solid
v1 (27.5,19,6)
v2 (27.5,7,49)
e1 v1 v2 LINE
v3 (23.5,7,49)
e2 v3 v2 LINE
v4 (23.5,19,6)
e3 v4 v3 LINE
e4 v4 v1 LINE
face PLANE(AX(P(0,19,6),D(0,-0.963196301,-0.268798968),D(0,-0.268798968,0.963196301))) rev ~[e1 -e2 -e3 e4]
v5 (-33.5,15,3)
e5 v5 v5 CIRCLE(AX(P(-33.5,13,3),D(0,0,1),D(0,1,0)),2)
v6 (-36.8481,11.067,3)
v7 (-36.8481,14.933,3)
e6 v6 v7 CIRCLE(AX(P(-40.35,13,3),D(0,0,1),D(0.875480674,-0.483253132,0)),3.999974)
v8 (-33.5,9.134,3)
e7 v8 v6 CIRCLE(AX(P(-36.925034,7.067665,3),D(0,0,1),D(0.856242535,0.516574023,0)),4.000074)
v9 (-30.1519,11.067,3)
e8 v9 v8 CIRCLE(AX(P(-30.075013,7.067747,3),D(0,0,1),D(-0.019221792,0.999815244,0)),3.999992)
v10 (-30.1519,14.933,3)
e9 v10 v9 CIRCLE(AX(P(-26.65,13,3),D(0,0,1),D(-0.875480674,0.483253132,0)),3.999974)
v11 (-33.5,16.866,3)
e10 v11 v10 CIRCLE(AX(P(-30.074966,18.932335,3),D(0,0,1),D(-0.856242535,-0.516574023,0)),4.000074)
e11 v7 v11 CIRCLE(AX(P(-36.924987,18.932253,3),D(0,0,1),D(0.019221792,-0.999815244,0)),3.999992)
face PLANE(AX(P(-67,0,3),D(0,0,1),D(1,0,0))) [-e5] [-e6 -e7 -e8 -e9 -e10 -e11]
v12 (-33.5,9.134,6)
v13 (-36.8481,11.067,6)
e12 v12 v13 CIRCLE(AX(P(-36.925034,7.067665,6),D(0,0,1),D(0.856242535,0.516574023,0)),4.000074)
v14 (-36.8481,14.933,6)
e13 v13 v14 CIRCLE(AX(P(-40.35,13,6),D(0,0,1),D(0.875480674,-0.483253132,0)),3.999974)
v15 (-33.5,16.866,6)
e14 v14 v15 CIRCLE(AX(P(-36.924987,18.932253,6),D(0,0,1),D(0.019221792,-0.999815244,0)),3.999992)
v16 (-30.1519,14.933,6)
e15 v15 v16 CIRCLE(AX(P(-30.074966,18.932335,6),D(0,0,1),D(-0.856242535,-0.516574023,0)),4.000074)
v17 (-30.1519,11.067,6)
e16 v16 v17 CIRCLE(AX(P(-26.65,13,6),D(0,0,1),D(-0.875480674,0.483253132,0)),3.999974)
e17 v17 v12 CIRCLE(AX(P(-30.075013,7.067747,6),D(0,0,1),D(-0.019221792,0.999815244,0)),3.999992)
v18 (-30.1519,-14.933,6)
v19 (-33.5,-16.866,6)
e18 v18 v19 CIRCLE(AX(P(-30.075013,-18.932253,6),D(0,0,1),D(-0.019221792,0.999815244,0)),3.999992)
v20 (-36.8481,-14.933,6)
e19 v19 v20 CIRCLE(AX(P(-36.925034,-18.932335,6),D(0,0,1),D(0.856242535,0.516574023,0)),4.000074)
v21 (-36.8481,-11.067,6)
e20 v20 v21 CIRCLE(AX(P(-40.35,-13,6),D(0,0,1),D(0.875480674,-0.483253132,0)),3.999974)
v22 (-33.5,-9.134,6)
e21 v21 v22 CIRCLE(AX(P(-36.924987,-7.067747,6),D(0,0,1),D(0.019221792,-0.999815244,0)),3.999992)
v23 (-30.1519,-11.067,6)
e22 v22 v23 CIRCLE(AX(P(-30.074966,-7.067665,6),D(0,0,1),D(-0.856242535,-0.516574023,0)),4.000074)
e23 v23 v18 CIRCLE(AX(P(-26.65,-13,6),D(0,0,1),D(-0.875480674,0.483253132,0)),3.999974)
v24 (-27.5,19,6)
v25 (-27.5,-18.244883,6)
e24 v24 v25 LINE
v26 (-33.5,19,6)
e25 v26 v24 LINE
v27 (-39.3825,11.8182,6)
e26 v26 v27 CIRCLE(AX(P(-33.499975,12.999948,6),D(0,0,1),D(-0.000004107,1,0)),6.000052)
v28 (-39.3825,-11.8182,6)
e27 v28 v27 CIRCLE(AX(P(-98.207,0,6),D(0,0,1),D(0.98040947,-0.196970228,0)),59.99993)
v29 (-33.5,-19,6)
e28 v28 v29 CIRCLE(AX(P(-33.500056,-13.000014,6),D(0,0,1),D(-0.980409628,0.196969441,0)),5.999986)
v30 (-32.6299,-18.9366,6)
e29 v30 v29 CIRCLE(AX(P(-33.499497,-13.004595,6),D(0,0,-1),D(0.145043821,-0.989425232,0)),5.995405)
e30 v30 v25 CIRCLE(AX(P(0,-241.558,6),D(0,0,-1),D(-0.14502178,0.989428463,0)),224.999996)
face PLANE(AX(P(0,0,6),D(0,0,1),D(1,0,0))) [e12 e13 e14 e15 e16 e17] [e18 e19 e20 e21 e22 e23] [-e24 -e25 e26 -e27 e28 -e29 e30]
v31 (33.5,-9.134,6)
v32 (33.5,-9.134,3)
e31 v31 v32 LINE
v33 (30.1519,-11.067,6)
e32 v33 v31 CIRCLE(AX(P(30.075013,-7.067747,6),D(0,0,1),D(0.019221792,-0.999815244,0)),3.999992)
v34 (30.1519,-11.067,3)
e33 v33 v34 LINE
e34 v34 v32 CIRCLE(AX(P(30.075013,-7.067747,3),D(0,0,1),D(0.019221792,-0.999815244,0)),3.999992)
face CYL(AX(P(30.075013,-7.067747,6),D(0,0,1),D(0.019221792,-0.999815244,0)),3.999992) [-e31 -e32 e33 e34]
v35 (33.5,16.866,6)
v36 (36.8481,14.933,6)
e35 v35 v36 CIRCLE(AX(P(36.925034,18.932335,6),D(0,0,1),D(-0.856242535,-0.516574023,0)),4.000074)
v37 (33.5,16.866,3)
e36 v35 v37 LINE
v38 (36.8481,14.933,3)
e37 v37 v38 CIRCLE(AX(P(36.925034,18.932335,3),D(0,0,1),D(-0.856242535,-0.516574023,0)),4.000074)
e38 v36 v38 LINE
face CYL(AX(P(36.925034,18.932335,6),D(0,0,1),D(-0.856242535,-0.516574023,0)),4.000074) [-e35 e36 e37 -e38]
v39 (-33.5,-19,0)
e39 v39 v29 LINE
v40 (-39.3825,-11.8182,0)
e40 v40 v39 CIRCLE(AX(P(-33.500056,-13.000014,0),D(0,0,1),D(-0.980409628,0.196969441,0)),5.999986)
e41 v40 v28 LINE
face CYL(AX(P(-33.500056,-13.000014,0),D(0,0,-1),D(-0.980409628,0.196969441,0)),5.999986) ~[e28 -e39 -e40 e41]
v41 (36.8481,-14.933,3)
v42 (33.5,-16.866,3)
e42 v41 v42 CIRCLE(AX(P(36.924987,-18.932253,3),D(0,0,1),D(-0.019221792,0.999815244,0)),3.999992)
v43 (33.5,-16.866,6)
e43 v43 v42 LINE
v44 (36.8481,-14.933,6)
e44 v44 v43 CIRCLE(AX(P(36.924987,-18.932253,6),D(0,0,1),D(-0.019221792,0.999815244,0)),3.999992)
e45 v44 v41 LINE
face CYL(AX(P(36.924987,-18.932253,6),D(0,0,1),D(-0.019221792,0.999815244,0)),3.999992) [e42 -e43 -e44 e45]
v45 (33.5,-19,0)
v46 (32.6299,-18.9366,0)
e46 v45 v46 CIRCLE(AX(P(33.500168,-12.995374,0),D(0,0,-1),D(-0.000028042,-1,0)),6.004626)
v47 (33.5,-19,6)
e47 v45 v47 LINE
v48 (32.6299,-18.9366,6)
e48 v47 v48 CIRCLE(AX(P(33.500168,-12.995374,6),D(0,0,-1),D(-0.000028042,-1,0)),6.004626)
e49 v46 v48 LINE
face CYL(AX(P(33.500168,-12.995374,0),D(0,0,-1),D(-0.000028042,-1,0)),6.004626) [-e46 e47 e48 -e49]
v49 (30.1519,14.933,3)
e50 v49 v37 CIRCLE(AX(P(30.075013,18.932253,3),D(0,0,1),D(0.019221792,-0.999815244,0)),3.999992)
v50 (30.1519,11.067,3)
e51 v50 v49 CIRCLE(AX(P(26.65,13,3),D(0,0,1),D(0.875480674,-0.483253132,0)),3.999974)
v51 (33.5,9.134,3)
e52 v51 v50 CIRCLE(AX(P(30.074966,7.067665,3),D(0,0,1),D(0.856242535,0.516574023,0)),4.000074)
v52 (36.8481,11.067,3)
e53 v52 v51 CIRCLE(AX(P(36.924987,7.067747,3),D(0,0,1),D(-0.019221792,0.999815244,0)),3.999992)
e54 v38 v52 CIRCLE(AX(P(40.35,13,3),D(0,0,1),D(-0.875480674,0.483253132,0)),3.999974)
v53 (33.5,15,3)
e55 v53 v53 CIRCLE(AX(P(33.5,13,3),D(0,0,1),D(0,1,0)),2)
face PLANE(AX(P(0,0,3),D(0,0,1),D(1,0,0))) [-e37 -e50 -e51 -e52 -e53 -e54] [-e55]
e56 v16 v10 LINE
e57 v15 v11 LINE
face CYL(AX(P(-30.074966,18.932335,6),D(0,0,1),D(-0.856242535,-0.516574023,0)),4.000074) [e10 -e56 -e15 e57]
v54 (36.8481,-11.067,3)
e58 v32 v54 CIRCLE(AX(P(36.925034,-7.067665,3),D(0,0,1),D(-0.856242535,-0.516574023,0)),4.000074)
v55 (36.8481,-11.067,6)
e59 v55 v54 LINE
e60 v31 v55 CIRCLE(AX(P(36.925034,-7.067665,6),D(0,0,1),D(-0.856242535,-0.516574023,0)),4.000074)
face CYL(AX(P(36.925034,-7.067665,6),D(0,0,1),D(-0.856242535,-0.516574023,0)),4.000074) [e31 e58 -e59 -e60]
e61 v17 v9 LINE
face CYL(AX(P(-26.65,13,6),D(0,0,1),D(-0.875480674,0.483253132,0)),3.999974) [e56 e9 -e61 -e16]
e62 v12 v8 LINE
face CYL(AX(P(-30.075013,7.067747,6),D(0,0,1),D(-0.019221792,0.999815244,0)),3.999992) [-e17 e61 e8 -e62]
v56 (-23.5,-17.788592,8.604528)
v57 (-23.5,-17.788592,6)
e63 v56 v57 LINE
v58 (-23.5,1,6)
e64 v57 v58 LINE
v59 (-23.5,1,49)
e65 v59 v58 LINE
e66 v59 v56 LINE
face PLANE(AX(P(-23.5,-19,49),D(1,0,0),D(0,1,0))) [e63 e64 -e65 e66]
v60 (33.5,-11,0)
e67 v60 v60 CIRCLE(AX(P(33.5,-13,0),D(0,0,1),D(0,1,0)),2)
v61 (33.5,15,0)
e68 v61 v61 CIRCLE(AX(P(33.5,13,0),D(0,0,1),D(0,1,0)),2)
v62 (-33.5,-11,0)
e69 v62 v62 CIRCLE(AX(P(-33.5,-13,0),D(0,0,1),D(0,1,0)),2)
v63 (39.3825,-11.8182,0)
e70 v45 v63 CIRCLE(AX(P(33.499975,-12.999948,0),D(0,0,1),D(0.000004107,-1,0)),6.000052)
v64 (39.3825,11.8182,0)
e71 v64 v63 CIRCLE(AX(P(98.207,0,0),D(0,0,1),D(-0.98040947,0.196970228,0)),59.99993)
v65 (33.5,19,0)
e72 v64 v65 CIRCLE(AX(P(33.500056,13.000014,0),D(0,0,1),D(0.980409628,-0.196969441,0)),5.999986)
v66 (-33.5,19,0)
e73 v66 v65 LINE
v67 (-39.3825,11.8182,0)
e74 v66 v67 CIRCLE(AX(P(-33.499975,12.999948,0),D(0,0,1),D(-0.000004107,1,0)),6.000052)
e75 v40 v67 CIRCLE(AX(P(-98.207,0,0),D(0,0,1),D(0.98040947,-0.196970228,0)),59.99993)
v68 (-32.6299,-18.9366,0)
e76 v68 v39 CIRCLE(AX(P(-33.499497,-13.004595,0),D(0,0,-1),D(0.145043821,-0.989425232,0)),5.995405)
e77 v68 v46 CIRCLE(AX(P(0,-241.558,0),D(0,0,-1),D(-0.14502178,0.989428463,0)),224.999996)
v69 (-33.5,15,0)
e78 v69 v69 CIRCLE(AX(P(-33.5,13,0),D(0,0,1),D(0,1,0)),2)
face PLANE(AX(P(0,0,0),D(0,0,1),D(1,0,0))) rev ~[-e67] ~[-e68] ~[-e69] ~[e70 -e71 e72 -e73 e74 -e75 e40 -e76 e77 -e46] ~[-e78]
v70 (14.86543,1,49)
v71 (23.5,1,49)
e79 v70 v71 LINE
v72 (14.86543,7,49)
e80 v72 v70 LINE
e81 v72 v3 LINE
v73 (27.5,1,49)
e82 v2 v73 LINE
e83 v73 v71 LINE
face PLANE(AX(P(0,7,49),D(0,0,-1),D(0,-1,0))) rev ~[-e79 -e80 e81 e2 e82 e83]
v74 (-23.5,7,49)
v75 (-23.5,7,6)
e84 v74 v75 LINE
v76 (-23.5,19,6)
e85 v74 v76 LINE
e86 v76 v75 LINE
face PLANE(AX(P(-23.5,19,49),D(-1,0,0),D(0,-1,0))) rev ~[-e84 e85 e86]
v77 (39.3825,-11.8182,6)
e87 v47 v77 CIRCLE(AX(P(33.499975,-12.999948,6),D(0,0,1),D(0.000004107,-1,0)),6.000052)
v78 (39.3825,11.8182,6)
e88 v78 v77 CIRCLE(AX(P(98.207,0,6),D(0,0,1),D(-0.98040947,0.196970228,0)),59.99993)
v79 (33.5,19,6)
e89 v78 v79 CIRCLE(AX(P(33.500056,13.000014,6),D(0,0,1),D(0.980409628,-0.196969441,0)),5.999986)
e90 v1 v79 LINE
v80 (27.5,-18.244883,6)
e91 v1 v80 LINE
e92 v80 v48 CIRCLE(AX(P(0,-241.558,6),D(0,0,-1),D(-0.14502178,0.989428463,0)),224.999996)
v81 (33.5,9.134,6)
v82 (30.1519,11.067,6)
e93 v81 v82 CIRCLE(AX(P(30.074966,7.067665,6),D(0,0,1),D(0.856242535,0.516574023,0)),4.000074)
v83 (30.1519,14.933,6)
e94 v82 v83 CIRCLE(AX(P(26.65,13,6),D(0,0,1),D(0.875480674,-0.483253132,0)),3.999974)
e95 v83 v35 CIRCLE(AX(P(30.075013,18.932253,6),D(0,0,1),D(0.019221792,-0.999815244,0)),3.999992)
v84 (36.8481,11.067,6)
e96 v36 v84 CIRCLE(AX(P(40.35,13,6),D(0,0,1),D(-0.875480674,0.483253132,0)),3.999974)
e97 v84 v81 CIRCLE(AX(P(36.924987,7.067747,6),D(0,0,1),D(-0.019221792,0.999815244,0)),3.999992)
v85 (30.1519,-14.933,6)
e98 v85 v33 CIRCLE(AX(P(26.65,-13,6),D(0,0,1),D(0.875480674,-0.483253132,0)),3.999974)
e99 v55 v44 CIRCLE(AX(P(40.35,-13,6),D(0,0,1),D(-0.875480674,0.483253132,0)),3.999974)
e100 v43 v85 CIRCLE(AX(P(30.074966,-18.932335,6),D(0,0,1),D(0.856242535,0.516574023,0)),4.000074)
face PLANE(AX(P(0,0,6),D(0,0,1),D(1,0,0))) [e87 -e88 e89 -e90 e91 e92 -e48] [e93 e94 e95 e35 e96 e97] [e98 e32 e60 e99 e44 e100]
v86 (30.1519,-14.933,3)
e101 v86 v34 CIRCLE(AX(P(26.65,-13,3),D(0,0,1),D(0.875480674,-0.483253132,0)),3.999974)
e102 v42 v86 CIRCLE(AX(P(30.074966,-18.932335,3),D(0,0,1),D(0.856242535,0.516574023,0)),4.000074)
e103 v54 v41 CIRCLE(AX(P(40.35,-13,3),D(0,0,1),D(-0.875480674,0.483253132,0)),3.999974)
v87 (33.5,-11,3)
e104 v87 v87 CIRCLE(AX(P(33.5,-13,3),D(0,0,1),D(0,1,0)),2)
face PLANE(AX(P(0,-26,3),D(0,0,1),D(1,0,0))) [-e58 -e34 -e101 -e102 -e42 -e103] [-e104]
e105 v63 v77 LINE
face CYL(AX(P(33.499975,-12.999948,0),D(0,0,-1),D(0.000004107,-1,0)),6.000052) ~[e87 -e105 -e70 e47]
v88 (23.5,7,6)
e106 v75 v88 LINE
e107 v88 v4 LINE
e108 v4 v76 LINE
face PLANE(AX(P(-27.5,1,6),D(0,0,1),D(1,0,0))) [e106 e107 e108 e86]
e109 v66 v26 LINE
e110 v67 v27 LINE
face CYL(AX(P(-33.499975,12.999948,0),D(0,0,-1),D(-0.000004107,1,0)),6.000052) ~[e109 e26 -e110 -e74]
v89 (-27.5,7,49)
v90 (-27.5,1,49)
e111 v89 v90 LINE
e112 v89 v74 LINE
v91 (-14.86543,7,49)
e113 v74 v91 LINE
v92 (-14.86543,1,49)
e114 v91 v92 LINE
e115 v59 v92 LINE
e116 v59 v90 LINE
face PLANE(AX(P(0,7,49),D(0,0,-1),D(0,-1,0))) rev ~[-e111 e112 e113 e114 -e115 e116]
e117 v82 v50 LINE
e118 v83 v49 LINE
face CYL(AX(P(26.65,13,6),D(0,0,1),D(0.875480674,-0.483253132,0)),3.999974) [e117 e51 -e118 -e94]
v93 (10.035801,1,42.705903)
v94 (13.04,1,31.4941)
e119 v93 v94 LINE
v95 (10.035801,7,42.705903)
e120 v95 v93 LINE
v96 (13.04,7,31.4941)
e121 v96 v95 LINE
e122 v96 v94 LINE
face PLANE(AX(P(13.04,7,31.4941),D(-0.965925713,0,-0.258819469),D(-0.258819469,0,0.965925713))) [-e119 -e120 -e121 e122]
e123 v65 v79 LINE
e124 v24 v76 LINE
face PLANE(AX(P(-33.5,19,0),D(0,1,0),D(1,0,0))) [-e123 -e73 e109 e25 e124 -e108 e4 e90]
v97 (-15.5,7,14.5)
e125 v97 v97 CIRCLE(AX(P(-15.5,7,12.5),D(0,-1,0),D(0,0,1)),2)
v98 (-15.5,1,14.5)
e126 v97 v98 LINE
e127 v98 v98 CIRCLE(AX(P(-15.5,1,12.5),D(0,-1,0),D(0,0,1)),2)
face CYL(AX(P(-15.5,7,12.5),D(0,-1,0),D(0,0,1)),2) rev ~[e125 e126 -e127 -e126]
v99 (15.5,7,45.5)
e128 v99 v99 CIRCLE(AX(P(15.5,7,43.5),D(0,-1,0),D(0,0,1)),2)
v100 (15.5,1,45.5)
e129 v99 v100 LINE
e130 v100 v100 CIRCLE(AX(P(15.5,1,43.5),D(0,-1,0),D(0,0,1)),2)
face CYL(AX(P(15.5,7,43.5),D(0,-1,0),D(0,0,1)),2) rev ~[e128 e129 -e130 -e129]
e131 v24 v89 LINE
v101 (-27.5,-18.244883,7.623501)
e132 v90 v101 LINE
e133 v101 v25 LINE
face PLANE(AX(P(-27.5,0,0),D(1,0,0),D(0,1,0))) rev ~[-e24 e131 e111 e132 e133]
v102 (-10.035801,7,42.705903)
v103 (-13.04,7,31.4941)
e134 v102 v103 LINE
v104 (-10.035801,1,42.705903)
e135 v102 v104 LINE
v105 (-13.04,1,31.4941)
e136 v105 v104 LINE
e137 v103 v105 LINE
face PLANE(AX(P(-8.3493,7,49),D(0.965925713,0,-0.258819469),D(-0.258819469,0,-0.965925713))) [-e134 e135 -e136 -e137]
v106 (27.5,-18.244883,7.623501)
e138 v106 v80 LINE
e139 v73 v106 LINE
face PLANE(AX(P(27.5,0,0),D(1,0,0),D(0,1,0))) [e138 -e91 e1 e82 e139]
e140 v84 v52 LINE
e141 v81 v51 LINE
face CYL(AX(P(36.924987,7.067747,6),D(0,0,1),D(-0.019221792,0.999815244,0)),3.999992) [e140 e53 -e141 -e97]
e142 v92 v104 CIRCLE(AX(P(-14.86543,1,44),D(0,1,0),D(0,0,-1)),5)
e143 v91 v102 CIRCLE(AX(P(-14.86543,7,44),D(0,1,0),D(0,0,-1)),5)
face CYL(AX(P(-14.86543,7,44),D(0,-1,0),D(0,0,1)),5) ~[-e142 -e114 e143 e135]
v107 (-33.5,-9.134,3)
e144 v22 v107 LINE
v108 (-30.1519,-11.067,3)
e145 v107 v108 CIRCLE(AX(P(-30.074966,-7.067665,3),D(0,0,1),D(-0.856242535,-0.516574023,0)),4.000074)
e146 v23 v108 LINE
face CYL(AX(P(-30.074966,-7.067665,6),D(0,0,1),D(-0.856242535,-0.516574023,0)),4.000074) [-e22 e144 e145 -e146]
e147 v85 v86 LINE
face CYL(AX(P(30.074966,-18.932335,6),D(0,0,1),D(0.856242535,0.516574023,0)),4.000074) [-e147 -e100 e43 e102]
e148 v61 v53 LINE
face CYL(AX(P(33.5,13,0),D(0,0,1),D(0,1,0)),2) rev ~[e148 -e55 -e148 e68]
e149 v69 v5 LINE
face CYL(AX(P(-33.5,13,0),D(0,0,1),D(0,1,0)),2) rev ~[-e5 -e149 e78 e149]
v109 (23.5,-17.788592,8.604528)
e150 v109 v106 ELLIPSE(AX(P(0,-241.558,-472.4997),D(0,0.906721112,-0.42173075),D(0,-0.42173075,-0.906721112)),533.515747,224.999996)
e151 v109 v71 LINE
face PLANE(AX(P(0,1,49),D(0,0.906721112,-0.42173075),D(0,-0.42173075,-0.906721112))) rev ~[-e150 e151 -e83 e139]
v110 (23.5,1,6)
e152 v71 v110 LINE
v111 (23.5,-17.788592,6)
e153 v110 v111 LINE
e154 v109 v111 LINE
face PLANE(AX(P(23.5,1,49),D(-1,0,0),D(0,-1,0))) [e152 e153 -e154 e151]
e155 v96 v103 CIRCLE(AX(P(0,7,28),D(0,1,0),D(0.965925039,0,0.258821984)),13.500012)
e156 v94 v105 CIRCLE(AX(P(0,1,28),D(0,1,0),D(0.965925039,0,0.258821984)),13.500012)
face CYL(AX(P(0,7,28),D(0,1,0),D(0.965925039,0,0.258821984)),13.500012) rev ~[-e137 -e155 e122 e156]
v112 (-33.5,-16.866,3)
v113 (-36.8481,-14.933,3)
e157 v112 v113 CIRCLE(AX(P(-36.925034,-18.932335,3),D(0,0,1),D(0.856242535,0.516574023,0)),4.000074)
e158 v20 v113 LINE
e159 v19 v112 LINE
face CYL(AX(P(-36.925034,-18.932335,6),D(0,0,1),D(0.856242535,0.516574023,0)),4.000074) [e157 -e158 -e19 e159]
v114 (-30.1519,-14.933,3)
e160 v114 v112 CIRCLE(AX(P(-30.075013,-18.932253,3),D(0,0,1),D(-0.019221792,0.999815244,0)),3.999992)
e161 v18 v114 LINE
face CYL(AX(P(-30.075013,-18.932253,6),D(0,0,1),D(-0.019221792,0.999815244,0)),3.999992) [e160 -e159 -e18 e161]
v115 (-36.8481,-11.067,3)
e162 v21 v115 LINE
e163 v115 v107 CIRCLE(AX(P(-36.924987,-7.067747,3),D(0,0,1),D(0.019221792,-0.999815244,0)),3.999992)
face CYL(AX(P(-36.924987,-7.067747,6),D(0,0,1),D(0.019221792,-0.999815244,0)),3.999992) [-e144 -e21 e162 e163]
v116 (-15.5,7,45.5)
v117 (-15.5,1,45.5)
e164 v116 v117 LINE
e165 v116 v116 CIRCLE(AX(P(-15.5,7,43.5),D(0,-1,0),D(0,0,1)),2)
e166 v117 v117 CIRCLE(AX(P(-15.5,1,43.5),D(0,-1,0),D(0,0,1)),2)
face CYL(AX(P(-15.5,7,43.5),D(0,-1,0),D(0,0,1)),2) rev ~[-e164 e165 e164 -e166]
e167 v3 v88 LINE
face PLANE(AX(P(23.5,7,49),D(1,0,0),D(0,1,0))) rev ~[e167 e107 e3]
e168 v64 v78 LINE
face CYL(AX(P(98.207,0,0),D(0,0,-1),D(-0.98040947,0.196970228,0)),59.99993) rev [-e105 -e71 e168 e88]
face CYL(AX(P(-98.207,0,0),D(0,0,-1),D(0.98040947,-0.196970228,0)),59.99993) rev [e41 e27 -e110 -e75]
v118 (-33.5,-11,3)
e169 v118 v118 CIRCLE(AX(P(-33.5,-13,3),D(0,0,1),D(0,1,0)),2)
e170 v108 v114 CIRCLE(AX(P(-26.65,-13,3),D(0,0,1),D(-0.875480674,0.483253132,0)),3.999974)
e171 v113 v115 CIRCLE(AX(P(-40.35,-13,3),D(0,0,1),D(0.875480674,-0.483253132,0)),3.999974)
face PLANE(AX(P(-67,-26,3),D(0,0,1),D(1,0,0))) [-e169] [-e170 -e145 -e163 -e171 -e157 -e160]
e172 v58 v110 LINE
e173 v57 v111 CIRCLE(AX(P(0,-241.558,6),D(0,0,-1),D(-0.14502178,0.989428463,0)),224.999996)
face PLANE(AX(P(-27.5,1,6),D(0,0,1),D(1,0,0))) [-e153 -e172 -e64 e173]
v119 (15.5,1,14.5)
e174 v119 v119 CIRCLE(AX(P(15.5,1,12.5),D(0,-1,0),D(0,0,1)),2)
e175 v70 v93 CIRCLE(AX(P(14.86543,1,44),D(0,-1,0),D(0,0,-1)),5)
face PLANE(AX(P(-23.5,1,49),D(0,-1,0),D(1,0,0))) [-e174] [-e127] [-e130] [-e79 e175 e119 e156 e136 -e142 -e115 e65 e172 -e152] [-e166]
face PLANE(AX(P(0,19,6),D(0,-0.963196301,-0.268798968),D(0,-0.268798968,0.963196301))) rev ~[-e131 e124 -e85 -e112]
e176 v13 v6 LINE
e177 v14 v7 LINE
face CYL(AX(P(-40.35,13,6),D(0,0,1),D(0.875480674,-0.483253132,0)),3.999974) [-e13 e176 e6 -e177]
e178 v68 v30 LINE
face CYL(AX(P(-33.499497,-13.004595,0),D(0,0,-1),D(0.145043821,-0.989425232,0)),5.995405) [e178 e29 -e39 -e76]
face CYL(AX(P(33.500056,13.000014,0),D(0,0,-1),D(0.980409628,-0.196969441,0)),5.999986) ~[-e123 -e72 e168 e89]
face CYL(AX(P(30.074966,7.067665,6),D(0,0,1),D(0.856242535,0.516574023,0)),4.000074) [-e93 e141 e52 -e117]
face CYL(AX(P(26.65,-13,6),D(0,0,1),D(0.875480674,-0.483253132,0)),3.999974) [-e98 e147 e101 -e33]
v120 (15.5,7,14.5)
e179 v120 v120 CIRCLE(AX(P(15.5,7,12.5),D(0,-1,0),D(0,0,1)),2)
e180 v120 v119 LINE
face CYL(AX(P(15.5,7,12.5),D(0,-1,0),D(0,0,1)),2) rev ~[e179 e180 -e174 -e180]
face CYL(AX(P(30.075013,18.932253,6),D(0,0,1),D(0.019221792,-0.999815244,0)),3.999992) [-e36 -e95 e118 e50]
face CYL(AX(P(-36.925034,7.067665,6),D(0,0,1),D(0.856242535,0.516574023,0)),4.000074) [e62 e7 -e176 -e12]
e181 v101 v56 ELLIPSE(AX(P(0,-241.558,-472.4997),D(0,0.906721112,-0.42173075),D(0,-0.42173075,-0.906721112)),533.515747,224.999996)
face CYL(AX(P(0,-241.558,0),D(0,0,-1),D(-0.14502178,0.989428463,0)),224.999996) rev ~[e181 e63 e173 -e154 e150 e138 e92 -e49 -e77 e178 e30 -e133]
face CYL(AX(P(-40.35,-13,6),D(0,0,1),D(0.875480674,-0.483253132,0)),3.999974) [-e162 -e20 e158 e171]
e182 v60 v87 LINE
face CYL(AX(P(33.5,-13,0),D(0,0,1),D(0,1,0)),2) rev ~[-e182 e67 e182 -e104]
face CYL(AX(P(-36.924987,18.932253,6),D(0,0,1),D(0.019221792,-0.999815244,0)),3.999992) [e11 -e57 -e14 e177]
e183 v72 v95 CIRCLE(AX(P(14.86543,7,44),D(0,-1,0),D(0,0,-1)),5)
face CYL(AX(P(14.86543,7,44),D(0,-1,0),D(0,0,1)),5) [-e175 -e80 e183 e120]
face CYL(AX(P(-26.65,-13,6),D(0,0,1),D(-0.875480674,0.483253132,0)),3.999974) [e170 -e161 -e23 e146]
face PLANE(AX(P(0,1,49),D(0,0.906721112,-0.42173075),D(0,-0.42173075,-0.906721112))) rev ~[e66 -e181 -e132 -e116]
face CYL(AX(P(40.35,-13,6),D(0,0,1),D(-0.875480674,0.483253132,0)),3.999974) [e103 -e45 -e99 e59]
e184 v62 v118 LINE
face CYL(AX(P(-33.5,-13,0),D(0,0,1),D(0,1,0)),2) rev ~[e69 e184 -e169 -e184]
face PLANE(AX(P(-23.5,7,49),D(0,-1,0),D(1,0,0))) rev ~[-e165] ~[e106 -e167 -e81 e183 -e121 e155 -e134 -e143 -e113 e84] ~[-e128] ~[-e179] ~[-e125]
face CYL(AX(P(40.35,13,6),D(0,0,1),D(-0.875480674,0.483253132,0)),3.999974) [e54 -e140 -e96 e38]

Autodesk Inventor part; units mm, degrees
ref_plane "YZ Plane" through (0, 0, 0) normal (1, 0, 0) x (0, 1, 0)
ref_plane "XZ Plane" through (0, 0, 0) normal (0, 1, 0) x (-1, 0, 0)
ref_plane "XY Plane" through (0, 0, 0) normal (0, 0, 1) x (1, 0, 0)
sketch "Sketch1" plane through (0, 0, 0) normal (0, 0, 1) x (1, 0, 0)
  line L0 (-33.5, -13) -> (33.5, -13) construction
  line L1 (33.5, -13) -> (33.5, 13) construction
  line L2 (33.5, 13) -> (-33.5, 13) construction
  line L3 (-33.5, 13) -> (-33.5, -13) construction
  line L4 (-33.5, -13) -> (33.5, 13) construction
  line L5 (33.5, -13) -> (-33.5, 13) construction
  arc A0 (-33.5, 19) -> (-39.3825, 11.8182) centre (-33.5, 13) ccw
  arc A1 (-39.3825, -11.8182) -> (-33.5, -19) centre (-33.5, -13) ccw
  arc A2 (33.5, -19) -> (39.3825, -11.8182) centre (33.5, -13) ccw
  arc A3 (39.3825, 11.8182) -> (33.5, 19) centre (33.5, 13) ccw
  arc A4 (-39.3825, -11.8182) -> (-39.3825, 11.8182) centre (-98.207, 0) ccw
  arc A5 (39.3825, 11.8182) -> (39.3825, -11.8182) centre (98.207, 0) ccw
  line L6 (-33.5, 19) -> (33.5, 19)
  line L7 (-33.5, -19) -> (33.5, -19)
  point P0 (0, 0)
  dimension "d0" = 67
  dimension "d1" = 26
  dimension "d2" = 6
  dimension "d3" = 60
extrude "Extrusion1" add sketch "Sketch1" along normal blind 6
sketch "Sketch2" plane through (0, 0, 0) normal (1, 0, 0) x (0, 1, 0)
  line L0 (19, 6) -> (11.8182, 6) construction
  line L1 (19, 6) -> (7, 49)
  line L2 (7, 49) -> (1, 49)
  line L3 (1, 49) -> (-19, 6)
  line L4 (19, 6) -> (11.8182, 6) construction
  line L5 (11.8182, 6) -> (-11.8182, 6) construction
  line L6 (-11.8182, 6) -> (-19, 6) construction
  line L7 (-19, 6) -> (-11.8182, 6) construction
  line L8 (-11.8182, 6) -> (11.8182, 6) construction
  line L9 (11.8182, 6) -> (19, 6) construction
  line L10 (19, 6) -> (-19, 6)
  point P0 (0, 0)
  dimension "d7" = 12
  dimension "d8" = 43
  dimension "d9" = 6
extrude "Extrusion2" add sketch "Sketch2" along normal mid plane 55
sketch "Sketch3" plane through (-27.5, 1, 49) normal (0, 0, 1) x (1, 0, 0)
  line L0 (0, 0) -> (55, 0) projected
  line L1 (55, 6) -> (55, 0) projected
  line L2 (0, 6) -> (55, 6) projected
  line L3 (0, 0) -> (0, 6) projected
  line L4 (0, 6) -> (55, 6) projected
  line L5 (61, 18) -> (-6, 18) projected
  line L6 (4, 6) -> (51, 6)
  line L7 (51, 6) -> (51, 18)
  line L8 (51, 18) -> (4, 18)
  line L9 (4, 18) -> (4, 6)
  line L10 (0, 0) -> (55, 0) projected
  line L11 (-6, -20) -> (61, -20) projected
  line L12 (4, 0) -> (51, 0)
  line L13 (51, 0) -> (51, -20)
  line L14 (51, -20) -> (4, -20)
  line L15 (4, -20) -> (4, 0)
  point P0 (27.5, -1)
  dimension "d12" = 4
  dimension "d13" = 4
extrude "Extrusion3" cut sketch "Sketch3" against normal up to surface (43 mm away) contours L0 L13 L11 L15 | L9 L5 L7 L2
sketch "Sketch4" plane through (-23.5, 7, 49) normal (0, 1, 0) x (1, 0, 0)
  arc A0 (36.54, 17.5059) -> (10.46, 17.5059) centre (23.5, 21) ccw
  line L0 (47, 43) -> (0, 43) projected
  line L1 (57, 49) -> (-10, 49) projected
  line L2 (36.54, 17.5059) -> (31.8493, 0)
  line L3 (31.8493, 0) -> (15.1507, 0)
  line L4 (15.1507, 0) -> (10.46, 17.5059)
  line L5 (0, 0) -> (47, 0) projected
  arc A1 (10.46, 17.5059) -> (36.54, 17.5059) centre (23.5, 21) ccw construction
  point P0 (23.5, 49)
  point P1 (23.5, 49)
  point P2 (23.5, 0)
  point P3 (23.5, 49)
  dimension "d16" = 27
  dimension "d17" = 22
  dimension "d18" = 30
extrude "Extrusion4" cut sketch "Sketch4" against normal blind 55
fillet "Fillet1" radius 5 2 edges at (8.3493, 4, 49) (-8.3493, 4, 49)
sketch "Sketch5" plane through (-23.5, 7, 6) normal (0, 1, 0) x (1, 0, 0)
  arc A0 (36.54, -25.4941) -> (10.46, -25.4941) centre (23.5, -22) ccw projected
  line L0 (8, -6.5) -> (39, -6.5)
  line L1 (39, -6.5) -> (39, -37.5)
  line L2 (39, -37.5) -> (8, -37.5)
  line L3 (8, -37.5) -> (8, -6.5)
  line L4 (8, -6.5) -> (39, -37.5) construction
  line L5 (39, -6.5) -> (8, -37.5) construction
  point P0 (23.5, 6)
  dimension "d22" = 31
  dimension "d23" = 31
hole "Hole1" at (-15.5, 7, 12.5) at (15.5, 7, 12.5) at (15.5, 7, 43.5) at (-15.5, 7, 43.5) direction (0, -1, 0) diameter 4 end through all
sketch "Sketch6" plane through (0, 0, 0) normal (0, 0, -1) x (-1, 0, 0)
  arc A0 (-33.5, -19) -> (-32.6299, -18.9366) centre (-33.5, -13) ccw
  arc A1 (32.6299, -18.9366) -> (-32.6299, -18.9366) centre (0, -241.558) ccw
  arc A2 (32.6299, -18.9366) -> (33.5, -19) centre (33.5, -13) ccw
  line L0 (-33.5, -19) -> (33.5, -19)
  arc A3 (33.5, -19) -> (39.3825, -11.8182) centre (33.5, -13) ccw projected
  arc A4 (-39.3825, -11.8182) -> (-33.5, -19) centre (-33.5, -13) ccw projected
  point P0 (0, 0)
  dimension "d31" = 225
extrude "Extrusion5" cut sketch "Sketch6" against normal blind 55
sketch "Sketch7" plane through (0, 0, 0) normal (0, 0, -1) x (-1, 0, 0)
  line L0 (-33.5, -13) -> (33.5, -13) construction
  line L1 (33.5, -13) -> (33.5, 13) construction
  line L2 (33.5, 13) -> (-33.5, 13) construction
  line L3 (-33.5, 13) -> (-33.5, -13) construction
  line L4 (-33.5, -13) -> (33.5, 13) construction
  line L5 (33.5, -13) -> (-33.5, 13) construction
  arc A0 (-39.3825, -11.8182) -> (-32.6299, -18.9366) centre (-33.5, -13) ccw construction
  arc A1 (32.6299, -18.9366) -> (-32.6299, -18.9366) centre (0, -241.558) ccw construction
  arc A2 (32.6299, -18.9366) -> (39.3825, -11.8182) centre (33.5, -13) ccw construction
  arc A3 (39.3825, 11.8182) -> (39.3825, -11.8182) centre (98.207, 0) ccw construction
  arc A4 (39.3825, 11.8182) -> (33.5, 19) centre (33.5, 13) ccw construction
  line L6 (-33.5, 19) -> (33.5, 19) construction
  arc A5 (-33.5, 19) -> (-39.3825, 11.8182) centre (-33.5, 13) ccw construction
  arc A6 (-39.3825, -11.8182) -> (-39.3825, 11.8182) centre (-98.207, 0) ccw construction
  point P0 (0, 0)
  point P1 (0, 0)
  dimension "d34" = 67
  dimension "d35" = 26
hole "Hole2" at (33.5, 13, 0) at (33.5, -13, 0) at (-33.5, -13, 0) at (-33.5, 13, 0) direction (0, 0, 1) diameter 4 depth 14.2 tip angle 118
sketch "Sketch8" plane through (0, 0, 6) normal (0, 0, 1) x (1, 0, 0)
  circle A0 centre (-33.5, -13) radius 2 projected
  circle A1 centre (-33.5, 13) radius 2 projected
  arc A2 (-39.3825, -11.8182) -> (-32.6299, -18.9366) centre (-33.5, -13) ccw projected
  arc A3 (-27.5, -18.2449) -> (-32.6299, -18.9366) centre (0, -241.558) ccw projected
  line L0 (-27.5, -18.2449) -> (-27.5, 19) projected
  line L1 (-27.5, 19) -> (-33.5, 19) projected
  arc A4 (-33.5, 19) -> (-39.3825, 11.8182) centre (-33.5, 13) ccw projected
  arc A5 (-39.3825, -11.8182) -> (-39.3825, 11.8182) centre (-98.207, 0) ccw projected
  circle A6 centre (33.5, 13) radius 2 projected
  circle A7 centre (33.5, -13) radius 2 projected
  arc A8 (32.6299, -18.9366) -> (39.3825, -11.8182) centre (33.5, -13) ccw projected
  arc A9 (39.3825, 11.8182) -> (39.3825, -11.8182) centre (98.207, 0) ccw projected
  arc A10 (39.3825, 11.8182) -> (33.5, 19) centre (33.5, 13) ccw projected
  line L2 (33.5, 19) -> (27.5, 19) projected
  line L3 (27.5, 19) -> (27.5, -18.2449) projected
  arc A11 (32.6299, -18.9366) -> (27.5, -18.2449) centre (0, -241.558) ccw projected
  line L4 (-30.1519, 11.067) -> (-33.5, 9.134)
  line L5 (-33.5, 9.134) -> (-36.8481, 11.067)
  line L6 (-36.8481, 11.067) -> (-36.8481, 14.933)
  line L7 (-36.8481, 14.933) -> (-33.5, 16.866)
  line L8 (-33.5, 16.866) -> (-30.1519, 14.933)
  line L9 (-30.1519, 14.933) -> (-30.1519, 11.067)
  line L10 (-30.1519, -14.933) -> (-33.5, -16.866)
  line L11 (-33.5, -16.866) -> (-36.8481, -14.933)
  line L12 (-36.8481, -14.933) -> (-36.8481, -11.067)
  line L13 (-36.8481, -11.067) -> (-33.5, -9.134)
  line L14 (-33.5, -9.134) -> (-30.1519, -11.067)
  line L15 (-30.1519, -11.067) -> (-30.1519, -14.933)
  line L16 (36.8481, -14.933) -> (33.5, -16.866)
  line L17 (33.5, -16.866) -> (30.1519, -14.933)
  line L18 (30.1519, -14.933) -> (30.1519, -11.067)
  line L19 (30.1519, -11.067) -> (33.5, -9.134)
  line L20 (33.5, -9.134) -> (36.8481, -11.067)
  line L21 (36.8481, -11.067) -> (36.8481, -14.933)
  line L22 (36.8481, 11.067) -> (33.5, 9.134) construction
  line L23 (33.5, 9.134) -> (30.1519, 11.067) construction
  line L24 (30.1519, 11.067) -> (30.1519, 14.933) construction
  line L25 (30.1519, 14.933) -> (33.5, 16.866) construction
  line L26 (33.5, 16.866) -> (36.8481, 14.933) construction
  line L27 (36.8481, 14.933) -> (36.8481, 11.067) construction
  arc A12 (30.1519, 14.933) -> (33.5, 16.866) centre (30.075, 18.9323) ccw
  arc A13 (33.5, 16.866) -> (36.8481, 14.933) centre (36.925, 18.9323) ccw
  arc A14 (36.8481, 11.067) -> (33.5, 9.134) centre (36.925, 7.0677) ccw
  arc A15 (33.5, 9.134) -> (30.1519, 11.067) centre (30.075, 7.0677) ccw
  arc A16 (30.1519, 11.067) -> (30.1519, 14.933) centre (26.65, 13) ccw
  arc A17 (36.8481, 14.933) -> (36.8481, 11.067) centre (40.35, 13) ccw
  point P0 (0, 0)
  dimension "d44" = 6.6962
  dimension "d47" = 4
  dimension "d48" = 4
  dimension "d49" = 4
  dimension "d50" = 4
  dimension "d51" = 4
  dimension "d52" = 4
  dimension "d53" = 5.7
extrude "Extrusion6" cut sketch "Sketch8" against normal blind 3 contours A12 A13 A17 A14 A15 A16
pattern_linear "Rectangular Pattern1" count 2 spacing 67 along (-1, 0, 0) count 2 spacing 26 along (0, -1, 0) of "Extrusion6"
equation "\"d13\" = d12"
properties part number "Y Motor Mount" material "ABS Plastic"
